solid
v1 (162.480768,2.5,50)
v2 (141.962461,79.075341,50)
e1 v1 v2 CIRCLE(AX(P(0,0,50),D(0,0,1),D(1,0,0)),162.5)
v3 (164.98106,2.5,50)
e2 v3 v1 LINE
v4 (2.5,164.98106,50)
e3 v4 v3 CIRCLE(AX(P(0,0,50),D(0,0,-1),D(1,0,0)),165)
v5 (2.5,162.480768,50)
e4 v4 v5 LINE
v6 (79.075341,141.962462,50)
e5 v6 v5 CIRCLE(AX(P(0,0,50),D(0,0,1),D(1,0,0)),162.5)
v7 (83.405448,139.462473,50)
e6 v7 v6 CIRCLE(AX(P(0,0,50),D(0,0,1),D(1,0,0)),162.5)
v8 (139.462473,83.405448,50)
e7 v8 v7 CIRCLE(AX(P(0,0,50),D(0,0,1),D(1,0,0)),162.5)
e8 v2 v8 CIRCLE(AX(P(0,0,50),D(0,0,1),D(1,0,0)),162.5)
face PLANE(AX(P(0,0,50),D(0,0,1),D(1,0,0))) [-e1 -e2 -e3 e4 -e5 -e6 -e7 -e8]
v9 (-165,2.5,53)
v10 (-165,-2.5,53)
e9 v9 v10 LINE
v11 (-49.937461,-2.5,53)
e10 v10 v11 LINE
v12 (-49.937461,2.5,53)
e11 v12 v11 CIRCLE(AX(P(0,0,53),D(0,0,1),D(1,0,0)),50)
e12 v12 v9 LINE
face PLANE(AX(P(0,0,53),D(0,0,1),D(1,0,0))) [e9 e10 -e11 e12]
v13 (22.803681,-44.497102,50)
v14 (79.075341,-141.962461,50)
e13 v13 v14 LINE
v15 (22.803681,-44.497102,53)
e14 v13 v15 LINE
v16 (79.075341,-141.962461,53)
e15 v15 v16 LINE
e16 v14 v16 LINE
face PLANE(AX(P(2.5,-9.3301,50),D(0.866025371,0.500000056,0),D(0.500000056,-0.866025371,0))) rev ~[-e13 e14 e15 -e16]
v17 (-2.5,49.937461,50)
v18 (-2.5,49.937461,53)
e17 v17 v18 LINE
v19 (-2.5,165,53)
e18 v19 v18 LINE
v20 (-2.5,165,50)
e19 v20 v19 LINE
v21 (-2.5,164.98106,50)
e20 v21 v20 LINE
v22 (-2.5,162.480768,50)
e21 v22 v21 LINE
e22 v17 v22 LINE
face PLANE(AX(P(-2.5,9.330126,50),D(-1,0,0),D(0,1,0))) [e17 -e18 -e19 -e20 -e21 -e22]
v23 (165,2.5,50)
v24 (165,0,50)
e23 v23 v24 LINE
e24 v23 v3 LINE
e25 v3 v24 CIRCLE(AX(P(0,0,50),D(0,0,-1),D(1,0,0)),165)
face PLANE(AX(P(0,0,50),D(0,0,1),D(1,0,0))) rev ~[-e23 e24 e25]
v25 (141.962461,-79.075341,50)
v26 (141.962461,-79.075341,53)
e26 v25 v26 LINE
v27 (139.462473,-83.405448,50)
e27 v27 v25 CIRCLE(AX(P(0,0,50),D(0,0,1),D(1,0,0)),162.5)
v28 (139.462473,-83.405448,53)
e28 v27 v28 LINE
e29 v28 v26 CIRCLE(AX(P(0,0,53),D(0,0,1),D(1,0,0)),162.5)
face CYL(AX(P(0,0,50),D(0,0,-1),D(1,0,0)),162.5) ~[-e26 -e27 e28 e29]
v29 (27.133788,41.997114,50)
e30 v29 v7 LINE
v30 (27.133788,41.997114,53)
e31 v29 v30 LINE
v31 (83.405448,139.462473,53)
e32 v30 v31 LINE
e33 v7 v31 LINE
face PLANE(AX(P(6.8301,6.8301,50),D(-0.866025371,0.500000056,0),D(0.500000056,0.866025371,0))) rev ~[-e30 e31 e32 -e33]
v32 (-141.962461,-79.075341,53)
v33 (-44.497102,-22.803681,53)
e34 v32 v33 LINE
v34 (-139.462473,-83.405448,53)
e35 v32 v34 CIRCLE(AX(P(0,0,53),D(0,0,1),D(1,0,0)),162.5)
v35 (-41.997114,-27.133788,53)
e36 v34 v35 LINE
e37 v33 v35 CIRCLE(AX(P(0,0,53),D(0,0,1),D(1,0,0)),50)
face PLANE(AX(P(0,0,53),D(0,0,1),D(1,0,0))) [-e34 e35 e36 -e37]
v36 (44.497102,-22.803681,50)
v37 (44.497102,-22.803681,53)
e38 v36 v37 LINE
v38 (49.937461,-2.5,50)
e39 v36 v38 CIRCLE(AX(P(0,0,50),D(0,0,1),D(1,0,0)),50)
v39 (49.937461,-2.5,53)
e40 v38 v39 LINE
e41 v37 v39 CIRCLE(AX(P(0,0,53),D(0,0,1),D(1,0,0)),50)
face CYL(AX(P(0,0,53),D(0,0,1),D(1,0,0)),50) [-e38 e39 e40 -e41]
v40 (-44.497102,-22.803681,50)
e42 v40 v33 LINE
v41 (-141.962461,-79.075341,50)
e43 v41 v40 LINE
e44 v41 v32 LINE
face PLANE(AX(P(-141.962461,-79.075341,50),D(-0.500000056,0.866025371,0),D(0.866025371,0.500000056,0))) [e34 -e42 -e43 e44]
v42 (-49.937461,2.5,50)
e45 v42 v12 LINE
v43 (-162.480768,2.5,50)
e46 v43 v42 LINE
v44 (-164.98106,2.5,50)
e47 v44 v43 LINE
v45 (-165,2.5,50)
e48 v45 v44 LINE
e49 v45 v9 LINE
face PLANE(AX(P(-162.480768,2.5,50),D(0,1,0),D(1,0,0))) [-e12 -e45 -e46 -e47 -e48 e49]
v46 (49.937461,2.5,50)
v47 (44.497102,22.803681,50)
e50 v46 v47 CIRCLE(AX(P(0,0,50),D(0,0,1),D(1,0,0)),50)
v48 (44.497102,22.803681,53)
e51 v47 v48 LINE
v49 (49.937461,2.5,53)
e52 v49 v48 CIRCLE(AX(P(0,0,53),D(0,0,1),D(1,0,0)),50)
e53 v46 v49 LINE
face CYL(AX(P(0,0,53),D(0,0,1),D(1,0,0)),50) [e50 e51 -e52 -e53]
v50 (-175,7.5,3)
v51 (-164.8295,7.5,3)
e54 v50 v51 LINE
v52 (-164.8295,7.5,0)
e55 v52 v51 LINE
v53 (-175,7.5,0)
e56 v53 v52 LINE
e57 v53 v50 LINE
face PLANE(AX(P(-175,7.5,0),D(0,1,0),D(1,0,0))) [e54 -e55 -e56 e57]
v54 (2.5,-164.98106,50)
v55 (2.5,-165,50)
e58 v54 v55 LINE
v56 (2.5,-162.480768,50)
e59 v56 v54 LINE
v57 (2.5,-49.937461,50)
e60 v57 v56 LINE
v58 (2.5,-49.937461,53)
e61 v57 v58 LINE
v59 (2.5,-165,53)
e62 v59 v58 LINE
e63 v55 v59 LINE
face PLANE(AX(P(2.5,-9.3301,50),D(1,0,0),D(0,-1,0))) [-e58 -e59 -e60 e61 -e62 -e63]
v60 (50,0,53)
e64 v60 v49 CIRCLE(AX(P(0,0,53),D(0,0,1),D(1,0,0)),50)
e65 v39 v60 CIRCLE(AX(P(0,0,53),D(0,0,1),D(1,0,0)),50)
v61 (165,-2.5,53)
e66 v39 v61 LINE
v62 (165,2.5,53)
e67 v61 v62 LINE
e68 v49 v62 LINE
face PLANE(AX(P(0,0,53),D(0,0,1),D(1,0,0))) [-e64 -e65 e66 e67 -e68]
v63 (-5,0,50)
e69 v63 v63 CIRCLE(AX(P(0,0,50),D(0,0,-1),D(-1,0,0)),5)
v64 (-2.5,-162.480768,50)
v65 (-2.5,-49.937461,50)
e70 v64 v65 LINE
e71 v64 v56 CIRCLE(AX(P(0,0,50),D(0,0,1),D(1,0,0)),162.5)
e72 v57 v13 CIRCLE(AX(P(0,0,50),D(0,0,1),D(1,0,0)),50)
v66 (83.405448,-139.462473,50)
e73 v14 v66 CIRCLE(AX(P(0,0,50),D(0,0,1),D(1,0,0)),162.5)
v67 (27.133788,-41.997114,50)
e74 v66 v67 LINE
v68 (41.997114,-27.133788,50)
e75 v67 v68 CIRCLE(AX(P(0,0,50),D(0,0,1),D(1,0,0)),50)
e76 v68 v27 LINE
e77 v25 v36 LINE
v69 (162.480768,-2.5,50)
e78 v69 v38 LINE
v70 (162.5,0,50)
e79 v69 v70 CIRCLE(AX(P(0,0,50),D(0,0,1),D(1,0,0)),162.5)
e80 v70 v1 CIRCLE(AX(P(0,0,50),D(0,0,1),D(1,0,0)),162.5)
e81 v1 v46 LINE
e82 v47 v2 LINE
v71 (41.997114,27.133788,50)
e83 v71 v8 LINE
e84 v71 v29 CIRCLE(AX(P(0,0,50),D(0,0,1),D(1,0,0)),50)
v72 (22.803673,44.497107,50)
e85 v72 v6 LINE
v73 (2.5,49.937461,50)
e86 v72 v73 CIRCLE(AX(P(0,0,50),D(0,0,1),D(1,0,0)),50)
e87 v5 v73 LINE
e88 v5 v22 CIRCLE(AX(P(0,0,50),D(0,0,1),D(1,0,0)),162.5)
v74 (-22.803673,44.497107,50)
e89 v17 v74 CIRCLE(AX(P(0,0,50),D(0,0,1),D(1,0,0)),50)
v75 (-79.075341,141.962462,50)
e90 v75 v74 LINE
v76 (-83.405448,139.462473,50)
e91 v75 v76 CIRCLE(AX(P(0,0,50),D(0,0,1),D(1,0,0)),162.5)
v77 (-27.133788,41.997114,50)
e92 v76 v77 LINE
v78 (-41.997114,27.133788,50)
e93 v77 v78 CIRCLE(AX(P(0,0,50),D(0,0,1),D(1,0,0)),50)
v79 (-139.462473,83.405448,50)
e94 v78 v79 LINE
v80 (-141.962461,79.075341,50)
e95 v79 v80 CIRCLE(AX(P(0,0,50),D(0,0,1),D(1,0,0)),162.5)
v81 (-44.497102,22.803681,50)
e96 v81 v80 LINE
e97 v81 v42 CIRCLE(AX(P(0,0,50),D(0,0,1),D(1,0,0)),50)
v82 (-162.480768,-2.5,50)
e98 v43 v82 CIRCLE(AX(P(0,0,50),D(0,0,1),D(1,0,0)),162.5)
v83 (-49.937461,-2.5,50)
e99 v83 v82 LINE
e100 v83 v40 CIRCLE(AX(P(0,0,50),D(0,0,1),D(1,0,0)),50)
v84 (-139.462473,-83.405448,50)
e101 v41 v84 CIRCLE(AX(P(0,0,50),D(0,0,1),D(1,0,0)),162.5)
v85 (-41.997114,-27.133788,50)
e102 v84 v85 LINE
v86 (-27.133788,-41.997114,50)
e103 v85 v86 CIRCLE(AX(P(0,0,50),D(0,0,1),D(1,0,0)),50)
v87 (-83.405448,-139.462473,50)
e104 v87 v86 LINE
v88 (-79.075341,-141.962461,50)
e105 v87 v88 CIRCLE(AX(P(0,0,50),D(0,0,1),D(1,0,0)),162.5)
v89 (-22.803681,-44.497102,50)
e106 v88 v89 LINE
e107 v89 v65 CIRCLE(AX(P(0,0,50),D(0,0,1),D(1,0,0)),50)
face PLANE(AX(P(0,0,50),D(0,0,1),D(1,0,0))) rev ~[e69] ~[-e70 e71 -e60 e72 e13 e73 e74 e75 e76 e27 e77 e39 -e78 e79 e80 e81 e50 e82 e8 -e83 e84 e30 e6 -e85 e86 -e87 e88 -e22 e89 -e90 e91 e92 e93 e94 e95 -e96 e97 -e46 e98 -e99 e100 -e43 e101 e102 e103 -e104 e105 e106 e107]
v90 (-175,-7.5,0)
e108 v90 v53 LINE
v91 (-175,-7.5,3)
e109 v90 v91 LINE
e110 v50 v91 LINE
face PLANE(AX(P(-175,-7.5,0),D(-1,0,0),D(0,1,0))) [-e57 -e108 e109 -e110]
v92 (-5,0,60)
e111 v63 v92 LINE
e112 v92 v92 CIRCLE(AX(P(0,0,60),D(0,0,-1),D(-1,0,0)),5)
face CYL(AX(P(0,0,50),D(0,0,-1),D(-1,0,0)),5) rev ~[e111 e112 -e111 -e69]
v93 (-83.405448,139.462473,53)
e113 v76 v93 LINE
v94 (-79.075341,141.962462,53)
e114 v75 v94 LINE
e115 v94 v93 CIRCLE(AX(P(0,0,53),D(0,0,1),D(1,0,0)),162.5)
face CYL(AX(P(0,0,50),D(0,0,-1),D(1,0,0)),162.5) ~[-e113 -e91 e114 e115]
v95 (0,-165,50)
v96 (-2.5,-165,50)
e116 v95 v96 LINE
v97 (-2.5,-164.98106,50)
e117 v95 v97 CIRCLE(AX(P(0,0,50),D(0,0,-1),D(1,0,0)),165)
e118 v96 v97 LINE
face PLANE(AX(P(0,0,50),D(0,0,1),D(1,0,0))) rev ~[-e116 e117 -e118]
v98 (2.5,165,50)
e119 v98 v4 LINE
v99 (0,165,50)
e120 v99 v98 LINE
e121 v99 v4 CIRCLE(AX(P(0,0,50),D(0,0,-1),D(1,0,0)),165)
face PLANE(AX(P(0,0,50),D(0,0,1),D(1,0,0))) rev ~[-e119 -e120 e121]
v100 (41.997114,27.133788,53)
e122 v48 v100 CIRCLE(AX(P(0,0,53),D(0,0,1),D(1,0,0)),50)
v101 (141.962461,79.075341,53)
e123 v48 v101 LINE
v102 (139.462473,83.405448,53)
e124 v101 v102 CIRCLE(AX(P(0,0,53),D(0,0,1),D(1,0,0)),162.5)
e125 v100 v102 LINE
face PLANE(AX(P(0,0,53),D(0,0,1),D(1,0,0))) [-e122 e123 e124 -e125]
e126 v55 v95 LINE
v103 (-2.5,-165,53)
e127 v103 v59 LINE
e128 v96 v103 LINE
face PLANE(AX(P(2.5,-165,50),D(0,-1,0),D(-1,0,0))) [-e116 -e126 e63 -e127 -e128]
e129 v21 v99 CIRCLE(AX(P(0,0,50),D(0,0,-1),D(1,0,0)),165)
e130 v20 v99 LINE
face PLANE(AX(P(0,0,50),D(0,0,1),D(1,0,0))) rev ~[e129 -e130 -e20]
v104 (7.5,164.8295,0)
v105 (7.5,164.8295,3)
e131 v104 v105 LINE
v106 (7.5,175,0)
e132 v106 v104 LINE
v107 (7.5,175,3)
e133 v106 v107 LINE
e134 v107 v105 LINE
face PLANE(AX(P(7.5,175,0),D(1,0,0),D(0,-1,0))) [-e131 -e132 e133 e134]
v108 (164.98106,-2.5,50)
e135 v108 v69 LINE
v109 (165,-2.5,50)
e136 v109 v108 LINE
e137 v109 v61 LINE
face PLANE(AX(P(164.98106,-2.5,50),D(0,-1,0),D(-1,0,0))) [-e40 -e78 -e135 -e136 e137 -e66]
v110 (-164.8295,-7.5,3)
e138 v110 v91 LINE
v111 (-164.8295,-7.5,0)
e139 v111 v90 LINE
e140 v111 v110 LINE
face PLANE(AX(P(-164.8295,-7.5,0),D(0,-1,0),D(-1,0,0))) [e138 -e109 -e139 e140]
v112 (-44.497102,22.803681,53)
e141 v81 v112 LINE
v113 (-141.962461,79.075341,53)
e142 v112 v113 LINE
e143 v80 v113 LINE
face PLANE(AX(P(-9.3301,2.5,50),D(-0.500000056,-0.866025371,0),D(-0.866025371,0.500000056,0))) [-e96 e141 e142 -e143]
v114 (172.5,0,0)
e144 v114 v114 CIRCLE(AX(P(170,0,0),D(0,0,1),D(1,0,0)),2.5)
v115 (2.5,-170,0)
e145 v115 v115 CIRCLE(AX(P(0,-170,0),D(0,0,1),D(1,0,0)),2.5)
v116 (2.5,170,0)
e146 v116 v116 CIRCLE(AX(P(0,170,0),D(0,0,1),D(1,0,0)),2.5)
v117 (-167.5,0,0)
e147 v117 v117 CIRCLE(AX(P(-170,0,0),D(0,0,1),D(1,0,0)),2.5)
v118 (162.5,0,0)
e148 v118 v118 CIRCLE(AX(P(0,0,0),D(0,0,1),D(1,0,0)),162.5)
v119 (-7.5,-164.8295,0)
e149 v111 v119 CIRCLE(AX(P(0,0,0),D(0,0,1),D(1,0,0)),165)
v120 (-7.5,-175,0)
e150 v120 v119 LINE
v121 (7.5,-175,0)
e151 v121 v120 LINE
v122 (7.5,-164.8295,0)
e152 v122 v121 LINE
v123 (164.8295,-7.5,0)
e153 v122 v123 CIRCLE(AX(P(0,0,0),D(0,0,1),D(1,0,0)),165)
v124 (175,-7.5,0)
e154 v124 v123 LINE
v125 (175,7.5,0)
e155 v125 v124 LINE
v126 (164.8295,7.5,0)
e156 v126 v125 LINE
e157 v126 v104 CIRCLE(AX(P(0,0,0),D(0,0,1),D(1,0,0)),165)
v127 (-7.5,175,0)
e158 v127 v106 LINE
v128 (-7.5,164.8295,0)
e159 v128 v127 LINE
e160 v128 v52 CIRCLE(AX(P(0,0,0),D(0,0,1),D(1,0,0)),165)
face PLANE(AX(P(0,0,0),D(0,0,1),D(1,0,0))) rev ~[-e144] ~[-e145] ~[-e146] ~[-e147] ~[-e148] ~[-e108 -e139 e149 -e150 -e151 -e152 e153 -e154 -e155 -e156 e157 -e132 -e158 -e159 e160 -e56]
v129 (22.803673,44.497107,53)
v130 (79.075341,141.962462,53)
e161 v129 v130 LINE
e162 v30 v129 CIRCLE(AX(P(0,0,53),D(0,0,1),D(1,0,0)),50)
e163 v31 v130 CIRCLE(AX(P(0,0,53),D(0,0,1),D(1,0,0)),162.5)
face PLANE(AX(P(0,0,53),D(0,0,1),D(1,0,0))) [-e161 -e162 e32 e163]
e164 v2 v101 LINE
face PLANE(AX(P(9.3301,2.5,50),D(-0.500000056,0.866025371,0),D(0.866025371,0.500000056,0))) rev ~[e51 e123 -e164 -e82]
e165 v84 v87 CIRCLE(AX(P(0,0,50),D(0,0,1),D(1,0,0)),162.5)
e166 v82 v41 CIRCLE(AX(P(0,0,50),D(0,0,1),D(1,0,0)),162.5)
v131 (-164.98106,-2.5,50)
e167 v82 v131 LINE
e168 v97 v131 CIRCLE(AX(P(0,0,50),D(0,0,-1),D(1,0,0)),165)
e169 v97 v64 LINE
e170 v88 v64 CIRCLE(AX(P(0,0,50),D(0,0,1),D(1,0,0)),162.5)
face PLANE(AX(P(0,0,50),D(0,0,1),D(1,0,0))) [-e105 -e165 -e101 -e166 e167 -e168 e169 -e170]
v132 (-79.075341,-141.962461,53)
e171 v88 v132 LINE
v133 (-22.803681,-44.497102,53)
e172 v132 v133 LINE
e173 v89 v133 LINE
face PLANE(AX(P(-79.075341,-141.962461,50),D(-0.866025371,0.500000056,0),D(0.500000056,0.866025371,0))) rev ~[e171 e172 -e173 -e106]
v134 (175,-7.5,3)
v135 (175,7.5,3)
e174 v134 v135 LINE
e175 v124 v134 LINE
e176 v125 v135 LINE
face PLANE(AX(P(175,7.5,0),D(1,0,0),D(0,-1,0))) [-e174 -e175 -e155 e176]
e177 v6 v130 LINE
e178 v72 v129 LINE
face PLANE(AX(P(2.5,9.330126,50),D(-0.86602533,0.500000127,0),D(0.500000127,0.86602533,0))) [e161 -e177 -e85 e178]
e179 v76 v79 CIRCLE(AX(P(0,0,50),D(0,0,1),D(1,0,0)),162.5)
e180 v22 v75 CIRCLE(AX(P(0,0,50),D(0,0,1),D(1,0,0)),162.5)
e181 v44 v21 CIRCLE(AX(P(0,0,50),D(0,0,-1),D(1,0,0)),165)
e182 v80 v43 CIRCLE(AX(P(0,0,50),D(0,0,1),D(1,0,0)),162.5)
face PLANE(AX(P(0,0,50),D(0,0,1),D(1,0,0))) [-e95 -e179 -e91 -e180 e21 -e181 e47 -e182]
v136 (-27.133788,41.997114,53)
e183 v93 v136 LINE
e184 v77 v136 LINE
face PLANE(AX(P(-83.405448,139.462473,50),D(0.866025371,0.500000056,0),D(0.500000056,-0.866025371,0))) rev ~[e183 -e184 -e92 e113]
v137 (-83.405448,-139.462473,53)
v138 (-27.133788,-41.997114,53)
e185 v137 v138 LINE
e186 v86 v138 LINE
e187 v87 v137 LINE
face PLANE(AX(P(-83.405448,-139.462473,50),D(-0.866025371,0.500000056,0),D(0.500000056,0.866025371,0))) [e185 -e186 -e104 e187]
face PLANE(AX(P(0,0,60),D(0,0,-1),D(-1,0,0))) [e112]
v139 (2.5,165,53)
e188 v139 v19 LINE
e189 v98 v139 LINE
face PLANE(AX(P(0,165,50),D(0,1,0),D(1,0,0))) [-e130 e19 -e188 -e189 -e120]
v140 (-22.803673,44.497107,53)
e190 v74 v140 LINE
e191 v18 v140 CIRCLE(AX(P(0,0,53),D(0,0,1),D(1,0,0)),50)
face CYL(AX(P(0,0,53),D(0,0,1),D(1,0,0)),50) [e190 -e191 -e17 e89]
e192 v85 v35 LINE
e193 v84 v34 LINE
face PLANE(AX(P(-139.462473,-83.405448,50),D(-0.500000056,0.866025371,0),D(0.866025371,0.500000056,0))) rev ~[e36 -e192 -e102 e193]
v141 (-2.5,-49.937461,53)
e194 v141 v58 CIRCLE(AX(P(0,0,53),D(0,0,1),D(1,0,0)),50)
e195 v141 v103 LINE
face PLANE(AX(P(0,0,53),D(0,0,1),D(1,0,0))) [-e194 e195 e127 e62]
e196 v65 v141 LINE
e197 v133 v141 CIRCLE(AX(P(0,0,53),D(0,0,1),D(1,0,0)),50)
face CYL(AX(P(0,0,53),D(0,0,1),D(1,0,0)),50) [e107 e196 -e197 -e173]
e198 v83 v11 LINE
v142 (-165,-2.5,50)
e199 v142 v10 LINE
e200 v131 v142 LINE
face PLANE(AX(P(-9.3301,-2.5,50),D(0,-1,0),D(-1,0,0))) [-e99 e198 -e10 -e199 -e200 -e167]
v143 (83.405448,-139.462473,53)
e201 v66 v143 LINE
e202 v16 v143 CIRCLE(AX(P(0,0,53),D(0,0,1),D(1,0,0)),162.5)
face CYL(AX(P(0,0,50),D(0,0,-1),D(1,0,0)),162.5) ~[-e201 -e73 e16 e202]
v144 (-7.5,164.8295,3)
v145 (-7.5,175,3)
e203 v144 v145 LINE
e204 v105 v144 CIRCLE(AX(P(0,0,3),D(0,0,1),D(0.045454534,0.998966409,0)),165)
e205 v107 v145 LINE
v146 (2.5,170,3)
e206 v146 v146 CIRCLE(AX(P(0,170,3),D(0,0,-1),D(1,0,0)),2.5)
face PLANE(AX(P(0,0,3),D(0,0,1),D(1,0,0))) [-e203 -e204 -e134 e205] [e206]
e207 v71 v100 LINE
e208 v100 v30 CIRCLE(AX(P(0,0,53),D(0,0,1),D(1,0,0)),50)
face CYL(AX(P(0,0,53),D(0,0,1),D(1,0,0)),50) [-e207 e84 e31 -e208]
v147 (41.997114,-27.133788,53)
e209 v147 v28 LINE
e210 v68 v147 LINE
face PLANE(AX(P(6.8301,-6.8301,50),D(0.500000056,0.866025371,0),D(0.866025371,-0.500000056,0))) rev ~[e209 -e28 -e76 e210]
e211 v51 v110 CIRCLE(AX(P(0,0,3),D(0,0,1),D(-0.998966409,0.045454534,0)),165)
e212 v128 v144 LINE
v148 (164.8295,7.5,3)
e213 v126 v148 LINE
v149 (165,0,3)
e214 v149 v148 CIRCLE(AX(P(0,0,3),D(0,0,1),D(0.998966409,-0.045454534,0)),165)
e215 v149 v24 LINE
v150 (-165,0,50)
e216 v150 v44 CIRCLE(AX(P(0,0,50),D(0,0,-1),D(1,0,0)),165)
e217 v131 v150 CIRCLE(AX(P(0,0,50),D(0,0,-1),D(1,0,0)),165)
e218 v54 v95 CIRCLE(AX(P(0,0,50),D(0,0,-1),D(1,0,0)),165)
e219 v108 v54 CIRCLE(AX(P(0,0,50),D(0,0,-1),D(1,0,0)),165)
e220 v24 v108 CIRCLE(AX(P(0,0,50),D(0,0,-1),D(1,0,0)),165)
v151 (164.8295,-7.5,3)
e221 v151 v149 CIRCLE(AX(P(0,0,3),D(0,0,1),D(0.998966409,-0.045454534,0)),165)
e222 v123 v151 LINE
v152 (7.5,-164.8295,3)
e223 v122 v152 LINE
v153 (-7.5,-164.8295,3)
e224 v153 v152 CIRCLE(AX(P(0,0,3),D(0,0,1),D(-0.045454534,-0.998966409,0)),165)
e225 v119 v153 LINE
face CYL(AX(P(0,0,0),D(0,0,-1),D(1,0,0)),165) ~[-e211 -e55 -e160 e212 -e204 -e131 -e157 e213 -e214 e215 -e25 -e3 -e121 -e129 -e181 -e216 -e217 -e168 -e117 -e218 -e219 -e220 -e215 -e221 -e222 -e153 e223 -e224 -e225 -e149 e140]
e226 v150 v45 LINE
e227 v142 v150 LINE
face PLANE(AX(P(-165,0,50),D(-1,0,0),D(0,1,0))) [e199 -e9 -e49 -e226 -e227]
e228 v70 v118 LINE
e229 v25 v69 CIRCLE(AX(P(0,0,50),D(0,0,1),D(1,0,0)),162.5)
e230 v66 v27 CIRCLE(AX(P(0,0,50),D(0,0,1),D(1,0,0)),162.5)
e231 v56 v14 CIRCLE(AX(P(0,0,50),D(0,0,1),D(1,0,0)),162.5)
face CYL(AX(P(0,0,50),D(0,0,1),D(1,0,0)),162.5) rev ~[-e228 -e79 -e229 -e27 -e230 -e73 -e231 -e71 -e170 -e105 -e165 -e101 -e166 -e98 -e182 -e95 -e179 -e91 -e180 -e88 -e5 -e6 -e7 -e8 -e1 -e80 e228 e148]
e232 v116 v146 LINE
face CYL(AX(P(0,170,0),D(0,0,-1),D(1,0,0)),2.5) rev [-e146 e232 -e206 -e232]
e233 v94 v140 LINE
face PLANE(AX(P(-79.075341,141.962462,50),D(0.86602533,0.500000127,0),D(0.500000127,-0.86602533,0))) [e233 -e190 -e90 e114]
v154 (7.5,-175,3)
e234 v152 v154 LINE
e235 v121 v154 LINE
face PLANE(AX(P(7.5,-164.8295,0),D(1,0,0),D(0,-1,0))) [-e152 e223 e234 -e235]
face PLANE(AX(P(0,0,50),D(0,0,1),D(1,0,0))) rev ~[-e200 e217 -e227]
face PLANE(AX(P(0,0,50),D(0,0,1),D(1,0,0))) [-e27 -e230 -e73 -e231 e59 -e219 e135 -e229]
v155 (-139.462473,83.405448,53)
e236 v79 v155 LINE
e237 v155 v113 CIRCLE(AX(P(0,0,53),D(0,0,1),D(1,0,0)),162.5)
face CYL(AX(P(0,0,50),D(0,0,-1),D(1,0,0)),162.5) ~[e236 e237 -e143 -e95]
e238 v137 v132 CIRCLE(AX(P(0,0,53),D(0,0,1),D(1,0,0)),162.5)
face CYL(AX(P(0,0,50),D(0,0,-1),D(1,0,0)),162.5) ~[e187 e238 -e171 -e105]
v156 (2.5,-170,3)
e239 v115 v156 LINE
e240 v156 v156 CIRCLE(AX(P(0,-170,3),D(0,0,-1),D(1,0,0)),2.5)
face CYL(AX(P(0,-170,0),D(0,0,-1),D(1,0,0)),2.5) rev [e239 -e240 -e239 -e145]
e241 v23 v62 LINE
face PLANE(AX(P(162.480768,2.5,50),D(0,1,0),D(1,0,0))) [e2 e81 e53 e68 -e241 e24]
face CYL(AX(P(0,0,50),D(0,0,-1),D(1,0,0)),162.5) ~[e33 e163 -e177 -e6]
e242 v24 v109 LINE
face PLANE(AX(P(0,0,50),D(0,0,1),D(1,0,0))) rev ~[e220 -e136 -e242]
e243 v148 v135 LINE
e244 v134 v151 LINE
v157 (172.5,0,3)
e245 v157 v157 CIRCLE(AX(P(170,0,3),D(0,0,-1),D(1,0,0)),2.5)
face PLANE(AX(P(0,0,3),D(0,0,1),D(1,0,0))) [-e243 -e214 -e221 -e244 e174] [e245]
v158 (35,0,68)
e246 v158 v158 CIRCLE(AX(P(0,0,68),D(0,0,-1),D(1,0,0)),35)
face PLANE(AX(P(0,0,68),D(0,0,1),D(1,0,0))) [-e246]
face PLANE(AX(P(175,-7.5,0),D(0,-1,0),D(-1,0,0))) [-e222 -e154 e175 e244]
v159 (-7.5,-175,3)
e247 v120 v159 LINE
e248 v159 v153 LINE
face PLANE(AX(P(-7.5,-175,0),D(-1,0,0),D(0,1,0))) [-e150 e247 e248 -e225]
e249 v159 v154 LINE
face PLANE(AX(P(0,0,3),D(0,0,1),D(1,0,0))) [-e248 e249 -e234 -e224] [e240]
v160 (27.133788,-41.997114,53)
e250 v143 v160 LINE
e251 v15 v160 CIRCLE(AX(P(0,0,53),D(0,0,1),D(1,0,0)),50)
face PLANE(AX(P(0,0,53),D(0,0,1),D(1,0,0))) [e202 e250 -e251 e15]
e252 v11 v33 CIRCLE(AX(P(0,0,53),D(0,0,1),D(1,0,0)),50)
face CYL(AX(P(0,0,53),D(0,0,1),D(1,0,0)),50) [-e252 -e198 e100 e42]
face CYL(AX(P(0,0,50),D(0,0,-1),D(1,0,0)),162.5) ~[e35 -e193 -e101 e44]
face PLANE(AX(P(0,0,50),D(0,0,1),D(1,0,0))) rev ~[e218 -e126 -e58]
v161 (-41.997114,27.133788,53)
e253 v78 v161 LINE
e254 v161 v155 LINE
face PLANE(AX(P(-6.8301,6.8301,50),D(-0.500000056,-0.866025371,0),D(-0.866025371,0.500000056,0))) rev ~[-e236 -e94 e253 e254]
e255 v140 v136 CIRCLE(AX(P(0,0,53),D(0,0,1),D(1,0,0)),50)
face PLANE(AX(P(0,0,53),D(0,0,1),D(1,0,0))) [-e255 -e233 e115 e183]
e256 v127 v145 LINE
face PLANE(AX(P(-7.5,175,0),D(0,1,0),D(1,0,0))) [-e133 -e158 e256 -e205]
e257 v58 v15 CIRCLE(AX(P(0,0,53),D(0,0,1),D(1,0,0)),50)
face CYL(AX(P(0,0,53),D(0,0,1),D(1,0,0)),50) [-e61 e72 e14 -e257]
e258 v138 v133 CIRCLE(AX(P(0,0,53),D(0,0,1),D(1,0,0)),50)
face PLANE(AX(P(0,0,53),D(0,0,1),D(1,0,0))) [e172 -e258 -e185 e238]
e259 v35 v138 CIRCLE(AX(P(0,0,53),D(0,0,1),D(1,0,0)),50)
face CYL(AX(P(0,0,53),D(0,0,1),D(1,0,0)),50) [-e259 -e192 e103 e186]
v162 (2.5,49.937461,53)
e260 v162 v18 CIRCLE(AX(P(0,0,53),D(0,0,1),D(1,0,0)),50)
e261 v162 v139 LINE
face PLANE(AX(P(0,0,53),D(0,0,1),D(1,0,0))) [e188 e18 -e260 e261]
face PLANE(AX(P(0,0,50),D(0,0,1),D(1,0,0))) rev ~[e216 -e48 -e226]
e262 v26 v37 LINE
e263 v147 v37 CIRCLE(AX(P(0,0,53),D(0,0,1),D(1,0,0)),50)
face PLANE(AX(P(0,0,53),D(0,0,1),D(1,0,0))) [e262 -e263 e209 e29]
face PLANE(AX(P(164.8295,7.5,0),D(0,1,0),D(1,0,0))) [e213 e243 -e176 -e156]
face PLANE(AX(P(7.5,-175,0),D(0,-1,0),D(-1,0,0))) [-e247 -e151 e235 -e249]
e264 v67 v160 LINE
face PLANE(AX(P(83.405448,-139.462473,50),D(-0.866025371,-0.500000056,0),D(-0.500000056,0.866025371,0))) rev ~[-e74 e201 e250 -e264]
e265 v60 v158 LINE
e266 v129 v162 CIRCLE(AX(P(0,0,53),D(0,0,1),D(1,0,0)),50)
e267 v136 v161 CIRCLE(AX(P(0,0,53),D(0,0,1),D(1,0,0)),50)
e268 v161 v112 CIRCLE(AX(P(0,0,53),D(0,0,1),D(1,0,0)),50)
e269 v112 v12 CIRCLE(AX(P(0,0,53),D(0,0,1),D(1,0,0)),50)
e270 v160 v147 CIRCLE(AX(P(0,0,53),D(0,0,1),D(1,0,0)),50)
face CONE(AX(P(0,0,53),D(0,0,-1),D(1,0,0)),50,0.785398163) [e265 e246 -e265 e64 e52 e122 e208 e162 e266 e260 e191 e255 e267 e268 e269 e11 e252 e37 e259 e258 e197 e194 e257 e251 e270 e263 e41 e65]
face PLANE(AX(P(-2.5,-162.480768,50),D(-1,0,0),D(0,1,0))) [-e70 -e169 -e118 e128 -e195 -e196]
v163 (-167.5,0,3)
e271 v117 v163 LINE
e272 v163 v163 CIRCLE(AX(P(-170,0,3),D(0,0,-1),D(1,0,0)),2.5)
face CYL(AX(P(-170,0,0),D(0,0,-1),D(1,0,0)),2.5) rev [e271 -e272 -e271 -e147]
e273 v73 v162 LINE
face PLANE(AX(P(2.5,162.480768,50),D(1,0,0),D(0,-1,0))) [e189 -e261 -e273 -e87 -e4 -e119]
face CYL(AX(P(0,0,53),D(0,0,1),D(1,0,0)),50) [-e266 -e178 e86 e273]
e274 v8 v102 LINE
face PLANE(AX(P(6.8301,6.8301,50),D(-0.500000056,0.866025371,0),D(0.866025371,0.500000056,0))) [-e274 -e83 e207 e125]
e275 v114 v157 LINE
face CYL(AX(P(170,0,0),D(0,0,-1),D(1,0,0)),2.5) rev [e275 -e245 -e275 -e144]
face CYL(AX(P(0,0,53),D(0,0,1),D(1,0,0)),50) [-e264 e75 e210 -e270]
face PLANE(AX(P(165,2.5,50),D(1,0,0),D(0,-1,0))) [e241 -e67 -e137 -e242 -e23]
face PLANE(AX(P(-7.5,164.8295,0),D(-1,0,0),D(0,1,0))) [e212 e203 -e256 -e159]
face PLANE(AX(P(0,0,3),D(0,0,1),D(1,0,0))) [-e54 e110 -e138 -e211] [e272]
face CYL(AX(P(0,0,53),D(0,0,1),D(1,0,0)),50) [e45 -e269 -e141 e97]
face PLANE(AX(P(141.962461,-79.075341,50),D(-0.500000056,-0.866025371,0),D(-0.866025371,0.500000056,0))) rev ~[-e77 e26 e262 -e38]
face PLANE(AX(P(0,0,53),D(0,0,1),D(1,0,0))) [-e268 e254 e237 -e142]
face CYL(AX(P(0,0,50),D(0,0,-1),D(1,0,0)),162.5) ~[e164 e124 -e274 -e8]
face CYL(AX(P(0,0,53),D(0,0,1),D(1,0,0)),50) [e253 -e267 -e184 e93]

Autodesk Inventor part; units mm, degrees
ref_plane "YZ Plane" through (0, 0, 0) normal (1, 0, 0) x (0, 1, 0)
ref_plane "XZ Plane" through (0, 0, 0) normal (0, 1, 0) x (-1, 0, 0)
ref_plane "XY Plane" through (0, 0, 0) normal (0, 0, 1) x (1, 0, 0)
sketch "Skizze1" plane through (0, 0, 0) normal (0, 0, 1) x (1, 0, 0)
  line L0 (-245, 0) -> (245, 0) projected
  line L1 (0, -245) -> (0, 245) projected
  line L2 (175, 7.5) -> (175, -7.5)
  line L3 (-175, -7.5) -> (-175, 7.5)
  line L4 (-7.5, 175) -> (7.5, 175)
  line L5 (7.5, -175) -> (-7.5, -175)
  circle A0 centre (0, 170) radius 2.5
  circle A1 centre (0, -170) radius 2.5
  circle A2 centre (-170, 0) radius 2.5
  circle A3 centre (170, 0) radius 2.5
  circle A4 centre (0, 0) radius 165
  line L6 (7.5, 175) -> (7.5, 164.8295)
  line L7 (-7.5, 164.8295) -> (-7.5, 175)
  line L8 (-175, 7.5) -> (-164.8295, 7.5)
  line L9 (-164.8295, -7.5) -> (-175, -7.5)
  line L10 (175, -7.5) -> (164.8295, -7.5)
  line L11 (164.8295, 7.5) -> (175, 7.5)
  line L12 (7.5, -164.8295) -> (7.5, -175)
  line L13 (-7.5, -175) -> (-7.5, -164.8295)
  circle A5 centre (0, 0) radius 162.5
  dimension "d12" = 330
  dimension "d2" = 350
  dimension "d3" = 350
  dimension "d4" = 5
  dimension "d5" = 5
  dimension "d6" = 5
  dimension "d7" = 5
  dimension "d8" = 5
  dimension "d9" = 5
  dimension "d10" = 5
  dimension "d11" = 5
  dimension "d13" = 325
extrude "Extrusion1" add sketch "Skizze1" along normal blind 3 contours A4 L11 L2 L0 A3 | L0 A3 L2 L10 A4 | A4 L7 L4 L1 A0 | L1 A0 L4 L6 A4 | A4 L12 L5 L1 A1 | L1 A1 L5 L13 A4 | A4 L9 L3 L0 A2 | L0 A2 L3 L8 A4
sketch "Skizze2" plane through (0, 0, 0) normal (0, 0, 1) x (1, 0, 0)
  line L0 (-231, 0) -> (231, 0) projected
  line L1 (0, -231) -> (0, 231) projected
  circle A0 centre (0, 0) radius 165
  circle A1 centre (0, 0) radius 162.5
  dimension "d16" = 330
  dimension "d17" = 325
extrude "Extrusion2" add sketch "Skizze2" along normal blind 50
sketch "Skizze3" plane through (0, 0, 50) normal (0, 0, 1) x (1, 0, 0)
  circle A0 centre (0, 0) radius 162.5
  dimension "d20" = 325
extrude "Extrusion3" cut sketch "Skizze3" against normal blind 50
sketch "Skizze5" plane through (0, 0, 50) normal (0, 0, 1) x (1, 0, 0)
  line L0 (-249.0675, 0) -> (269.4048, 0) projected
  line L1 (0, -269.4048) -> (0, 249.0675) projected
  line L2 (-2.5, 165) -> (2.5, 165)
  line L3 (2.5, 165) -> (2.5, -165)
  line L4 (2.5, -165) -> (-2.5, -165)
  line L5 (-2.5, -165) -> (-2.5, 165)
  line L6 (-165, 2.5) -> (165, 2.5)
  line L7 (165, 2.5) -> (165, -2.5)
  line L8 (165, -2.5) -> (-165, -2.5)
  line L9 (-165, -2.5) -> (-165, 2.5)
  circle A0 centre (0, 0) radius 165 projected
  circle A1 centre (0, 0) radius 162.5 projected
  line L10 (-80.3255, 144.1278) -> (0, 5)
  line L11 (-84.6556, 141.6278) -> (-6.8301, 6.8301)
  line L12 (-6.8301, 6.8301) -> (-141.6278, 84.6556)
  line L13 (-9.3301, 2.5) -> (-144.1278, 80.3255)
  line L14 (0, 5) -> (80.3255, 144.1278)
  line L15 (6.8301, 6.8301) -> (84.6556, 141.6278)
  line L16 (9.3301, 2.5) -> (144.1278, 80.3255)
  line L17 (6.8301, 6.8301) -> (141.6278, 84.6556)
  line L18 (-144.1278, -80.3255) -> (-9.3301, -2.5)
  line L19 (-141.6278, -84.6556) -> (-6.8301, -6.8301)
  line L20 (-80.3255, -144.1278) -> (-2.5, -9.3301)
  line L21 (-84.6556, -141.6278) -> (-6.8301, -6.8301)
  arc A2 (7.5, -164.8295) -> (164.8295, -7.5) centre (0, 0) ccw projected
  line L22 (2.5, -9.3301) -> (80.3255, -144.1278)
  line L23 (6.8301, -6.8301) -> (141.6278, -84.6556)
  line L24 (144.1278, -80.3255) -> (9.3301, -2.5)
  line L25 (84.6556, -141.6278) -> (6.8301, -6.8301)
  line L26 (141.6278, -84.6556) -> (144.1278, -80.3255)
  line L27 (141.6278, 84.6556) -> (144.1278, 80.3255)
  line L28 (80.3255, 144.1278) -> (84.6556, 141.6278)
  line L29 (-84.6556, 141.6278) -> (-80.3255, 144.1278)
  line L30 (-144.1278, 80.3255) -> (-141.6278, 84.6556)
  line L31 (-141.6278, -84.6556) -> (-144.1278, -80.3255)
  line L32 (-80.3255, -144.1278) -> (-84.6556, -141.6278)
  point P0 (-142.8942, 82.5)
  point P1 (79.0753, -141.9625)
  point P2 (83.4054, -139.4625)
  point P3 (139.4625, -83.4054)
  point P4 (141.9625, -79.0753)
  point P5 (141.9625, 79.0753)
  point P6 (139.4625, 83.4054)
  point P7 (83.4054, 139.4625)
  point P8 (79.0753, 141.9625)
  point P9 (2.5, 9.3301)
  point P10 (-2.5, 9.3301)
  point P11 (-79.0753, 141.9625)
  point P12 (-83.4054, 139.4625)
  point P13 (-139.4625, 83.4054)
  point P14 (-141.9625, 79.0753)
  point P15 (-141.9625, -79.0753)
  point P16 (-139.4625, -83.4054)
  point P17 (-83.4054, -139.4625)
  point P18 (-79.0753, -141.9625)
  dimension "d23" = 5
  dimension "d24" = 5
  dimension "d25" = 330
  dimension "d26" = 330
  dimension "d30" = 5
  dimension "d34" = 5
  dimension "d37" = 5
  dimension "d38" = 5
  dimension "d43" = 5
  dimension "d44" = 5
  dimension "d46" = 5
extrude "Extrusion4" add sketch "Skizze5" along normal blind 3 contours A1 L6 A0 L0 | A1 L8 L3 L0 | L0 L3 L6 A1 | L0 A0 L8 A1 | A0 L6 L7 | L7 L8 A0 | L3 L8 L1 L0 | L0 L1 L6 L3 | L1 L8 L5 L0 | L0 L5 L6 L1 | L6 L1 L14 L3 | L3 L14 A1 L15 L17 L16 L6 | L8 L24 A1 L23 L25 L22 L3 | L3 A1 L1 L8 | L5 L8 A1 L0 | L0 A1 L6 L5 | L1 A1 L5 L8 | L6 L5 L10 L1 | L14 L1 A1 L3 | A1 L8 A0 L0 | L0 A0 L6 A1 | L5 L20 A1 L21 L19 L18 L8 | L6 L13 A1 L12 L11 L10 L5 | A1 L3 A0 L1 | L1 A0 L5 A1 | L10 L5 A1 L1 | A1 L1 A0 L3 | A0 L8 L9 | L9 L6 A0 | A0 L3 L4 | L4 L5 A0 | A1 L5 A0 L1 | A0 L2 L3 | A0 L5 L2
sketch "Skizze6" plane through (0, 0, 53) normal (0, 0, 1) x (1, 0, 0)
  circle A0 centre (0, 0) radius 50
  dimension "d49" = 100
extrude "Extrusion5" add sketch "Skizze6" along normal blind 15 draft -45 and the other way blind 3
sketch "Skizze7" plane through (0, 0, 50) normal (0, 0, -1) x (-1, 0, 0)
  circle A0 centre (0, 0) radius 5
  dimension "d54" = 10
extrude "Extrusion6" cut sketch "Skizze7" against normal blind 10
properties part number "Ventilator"
